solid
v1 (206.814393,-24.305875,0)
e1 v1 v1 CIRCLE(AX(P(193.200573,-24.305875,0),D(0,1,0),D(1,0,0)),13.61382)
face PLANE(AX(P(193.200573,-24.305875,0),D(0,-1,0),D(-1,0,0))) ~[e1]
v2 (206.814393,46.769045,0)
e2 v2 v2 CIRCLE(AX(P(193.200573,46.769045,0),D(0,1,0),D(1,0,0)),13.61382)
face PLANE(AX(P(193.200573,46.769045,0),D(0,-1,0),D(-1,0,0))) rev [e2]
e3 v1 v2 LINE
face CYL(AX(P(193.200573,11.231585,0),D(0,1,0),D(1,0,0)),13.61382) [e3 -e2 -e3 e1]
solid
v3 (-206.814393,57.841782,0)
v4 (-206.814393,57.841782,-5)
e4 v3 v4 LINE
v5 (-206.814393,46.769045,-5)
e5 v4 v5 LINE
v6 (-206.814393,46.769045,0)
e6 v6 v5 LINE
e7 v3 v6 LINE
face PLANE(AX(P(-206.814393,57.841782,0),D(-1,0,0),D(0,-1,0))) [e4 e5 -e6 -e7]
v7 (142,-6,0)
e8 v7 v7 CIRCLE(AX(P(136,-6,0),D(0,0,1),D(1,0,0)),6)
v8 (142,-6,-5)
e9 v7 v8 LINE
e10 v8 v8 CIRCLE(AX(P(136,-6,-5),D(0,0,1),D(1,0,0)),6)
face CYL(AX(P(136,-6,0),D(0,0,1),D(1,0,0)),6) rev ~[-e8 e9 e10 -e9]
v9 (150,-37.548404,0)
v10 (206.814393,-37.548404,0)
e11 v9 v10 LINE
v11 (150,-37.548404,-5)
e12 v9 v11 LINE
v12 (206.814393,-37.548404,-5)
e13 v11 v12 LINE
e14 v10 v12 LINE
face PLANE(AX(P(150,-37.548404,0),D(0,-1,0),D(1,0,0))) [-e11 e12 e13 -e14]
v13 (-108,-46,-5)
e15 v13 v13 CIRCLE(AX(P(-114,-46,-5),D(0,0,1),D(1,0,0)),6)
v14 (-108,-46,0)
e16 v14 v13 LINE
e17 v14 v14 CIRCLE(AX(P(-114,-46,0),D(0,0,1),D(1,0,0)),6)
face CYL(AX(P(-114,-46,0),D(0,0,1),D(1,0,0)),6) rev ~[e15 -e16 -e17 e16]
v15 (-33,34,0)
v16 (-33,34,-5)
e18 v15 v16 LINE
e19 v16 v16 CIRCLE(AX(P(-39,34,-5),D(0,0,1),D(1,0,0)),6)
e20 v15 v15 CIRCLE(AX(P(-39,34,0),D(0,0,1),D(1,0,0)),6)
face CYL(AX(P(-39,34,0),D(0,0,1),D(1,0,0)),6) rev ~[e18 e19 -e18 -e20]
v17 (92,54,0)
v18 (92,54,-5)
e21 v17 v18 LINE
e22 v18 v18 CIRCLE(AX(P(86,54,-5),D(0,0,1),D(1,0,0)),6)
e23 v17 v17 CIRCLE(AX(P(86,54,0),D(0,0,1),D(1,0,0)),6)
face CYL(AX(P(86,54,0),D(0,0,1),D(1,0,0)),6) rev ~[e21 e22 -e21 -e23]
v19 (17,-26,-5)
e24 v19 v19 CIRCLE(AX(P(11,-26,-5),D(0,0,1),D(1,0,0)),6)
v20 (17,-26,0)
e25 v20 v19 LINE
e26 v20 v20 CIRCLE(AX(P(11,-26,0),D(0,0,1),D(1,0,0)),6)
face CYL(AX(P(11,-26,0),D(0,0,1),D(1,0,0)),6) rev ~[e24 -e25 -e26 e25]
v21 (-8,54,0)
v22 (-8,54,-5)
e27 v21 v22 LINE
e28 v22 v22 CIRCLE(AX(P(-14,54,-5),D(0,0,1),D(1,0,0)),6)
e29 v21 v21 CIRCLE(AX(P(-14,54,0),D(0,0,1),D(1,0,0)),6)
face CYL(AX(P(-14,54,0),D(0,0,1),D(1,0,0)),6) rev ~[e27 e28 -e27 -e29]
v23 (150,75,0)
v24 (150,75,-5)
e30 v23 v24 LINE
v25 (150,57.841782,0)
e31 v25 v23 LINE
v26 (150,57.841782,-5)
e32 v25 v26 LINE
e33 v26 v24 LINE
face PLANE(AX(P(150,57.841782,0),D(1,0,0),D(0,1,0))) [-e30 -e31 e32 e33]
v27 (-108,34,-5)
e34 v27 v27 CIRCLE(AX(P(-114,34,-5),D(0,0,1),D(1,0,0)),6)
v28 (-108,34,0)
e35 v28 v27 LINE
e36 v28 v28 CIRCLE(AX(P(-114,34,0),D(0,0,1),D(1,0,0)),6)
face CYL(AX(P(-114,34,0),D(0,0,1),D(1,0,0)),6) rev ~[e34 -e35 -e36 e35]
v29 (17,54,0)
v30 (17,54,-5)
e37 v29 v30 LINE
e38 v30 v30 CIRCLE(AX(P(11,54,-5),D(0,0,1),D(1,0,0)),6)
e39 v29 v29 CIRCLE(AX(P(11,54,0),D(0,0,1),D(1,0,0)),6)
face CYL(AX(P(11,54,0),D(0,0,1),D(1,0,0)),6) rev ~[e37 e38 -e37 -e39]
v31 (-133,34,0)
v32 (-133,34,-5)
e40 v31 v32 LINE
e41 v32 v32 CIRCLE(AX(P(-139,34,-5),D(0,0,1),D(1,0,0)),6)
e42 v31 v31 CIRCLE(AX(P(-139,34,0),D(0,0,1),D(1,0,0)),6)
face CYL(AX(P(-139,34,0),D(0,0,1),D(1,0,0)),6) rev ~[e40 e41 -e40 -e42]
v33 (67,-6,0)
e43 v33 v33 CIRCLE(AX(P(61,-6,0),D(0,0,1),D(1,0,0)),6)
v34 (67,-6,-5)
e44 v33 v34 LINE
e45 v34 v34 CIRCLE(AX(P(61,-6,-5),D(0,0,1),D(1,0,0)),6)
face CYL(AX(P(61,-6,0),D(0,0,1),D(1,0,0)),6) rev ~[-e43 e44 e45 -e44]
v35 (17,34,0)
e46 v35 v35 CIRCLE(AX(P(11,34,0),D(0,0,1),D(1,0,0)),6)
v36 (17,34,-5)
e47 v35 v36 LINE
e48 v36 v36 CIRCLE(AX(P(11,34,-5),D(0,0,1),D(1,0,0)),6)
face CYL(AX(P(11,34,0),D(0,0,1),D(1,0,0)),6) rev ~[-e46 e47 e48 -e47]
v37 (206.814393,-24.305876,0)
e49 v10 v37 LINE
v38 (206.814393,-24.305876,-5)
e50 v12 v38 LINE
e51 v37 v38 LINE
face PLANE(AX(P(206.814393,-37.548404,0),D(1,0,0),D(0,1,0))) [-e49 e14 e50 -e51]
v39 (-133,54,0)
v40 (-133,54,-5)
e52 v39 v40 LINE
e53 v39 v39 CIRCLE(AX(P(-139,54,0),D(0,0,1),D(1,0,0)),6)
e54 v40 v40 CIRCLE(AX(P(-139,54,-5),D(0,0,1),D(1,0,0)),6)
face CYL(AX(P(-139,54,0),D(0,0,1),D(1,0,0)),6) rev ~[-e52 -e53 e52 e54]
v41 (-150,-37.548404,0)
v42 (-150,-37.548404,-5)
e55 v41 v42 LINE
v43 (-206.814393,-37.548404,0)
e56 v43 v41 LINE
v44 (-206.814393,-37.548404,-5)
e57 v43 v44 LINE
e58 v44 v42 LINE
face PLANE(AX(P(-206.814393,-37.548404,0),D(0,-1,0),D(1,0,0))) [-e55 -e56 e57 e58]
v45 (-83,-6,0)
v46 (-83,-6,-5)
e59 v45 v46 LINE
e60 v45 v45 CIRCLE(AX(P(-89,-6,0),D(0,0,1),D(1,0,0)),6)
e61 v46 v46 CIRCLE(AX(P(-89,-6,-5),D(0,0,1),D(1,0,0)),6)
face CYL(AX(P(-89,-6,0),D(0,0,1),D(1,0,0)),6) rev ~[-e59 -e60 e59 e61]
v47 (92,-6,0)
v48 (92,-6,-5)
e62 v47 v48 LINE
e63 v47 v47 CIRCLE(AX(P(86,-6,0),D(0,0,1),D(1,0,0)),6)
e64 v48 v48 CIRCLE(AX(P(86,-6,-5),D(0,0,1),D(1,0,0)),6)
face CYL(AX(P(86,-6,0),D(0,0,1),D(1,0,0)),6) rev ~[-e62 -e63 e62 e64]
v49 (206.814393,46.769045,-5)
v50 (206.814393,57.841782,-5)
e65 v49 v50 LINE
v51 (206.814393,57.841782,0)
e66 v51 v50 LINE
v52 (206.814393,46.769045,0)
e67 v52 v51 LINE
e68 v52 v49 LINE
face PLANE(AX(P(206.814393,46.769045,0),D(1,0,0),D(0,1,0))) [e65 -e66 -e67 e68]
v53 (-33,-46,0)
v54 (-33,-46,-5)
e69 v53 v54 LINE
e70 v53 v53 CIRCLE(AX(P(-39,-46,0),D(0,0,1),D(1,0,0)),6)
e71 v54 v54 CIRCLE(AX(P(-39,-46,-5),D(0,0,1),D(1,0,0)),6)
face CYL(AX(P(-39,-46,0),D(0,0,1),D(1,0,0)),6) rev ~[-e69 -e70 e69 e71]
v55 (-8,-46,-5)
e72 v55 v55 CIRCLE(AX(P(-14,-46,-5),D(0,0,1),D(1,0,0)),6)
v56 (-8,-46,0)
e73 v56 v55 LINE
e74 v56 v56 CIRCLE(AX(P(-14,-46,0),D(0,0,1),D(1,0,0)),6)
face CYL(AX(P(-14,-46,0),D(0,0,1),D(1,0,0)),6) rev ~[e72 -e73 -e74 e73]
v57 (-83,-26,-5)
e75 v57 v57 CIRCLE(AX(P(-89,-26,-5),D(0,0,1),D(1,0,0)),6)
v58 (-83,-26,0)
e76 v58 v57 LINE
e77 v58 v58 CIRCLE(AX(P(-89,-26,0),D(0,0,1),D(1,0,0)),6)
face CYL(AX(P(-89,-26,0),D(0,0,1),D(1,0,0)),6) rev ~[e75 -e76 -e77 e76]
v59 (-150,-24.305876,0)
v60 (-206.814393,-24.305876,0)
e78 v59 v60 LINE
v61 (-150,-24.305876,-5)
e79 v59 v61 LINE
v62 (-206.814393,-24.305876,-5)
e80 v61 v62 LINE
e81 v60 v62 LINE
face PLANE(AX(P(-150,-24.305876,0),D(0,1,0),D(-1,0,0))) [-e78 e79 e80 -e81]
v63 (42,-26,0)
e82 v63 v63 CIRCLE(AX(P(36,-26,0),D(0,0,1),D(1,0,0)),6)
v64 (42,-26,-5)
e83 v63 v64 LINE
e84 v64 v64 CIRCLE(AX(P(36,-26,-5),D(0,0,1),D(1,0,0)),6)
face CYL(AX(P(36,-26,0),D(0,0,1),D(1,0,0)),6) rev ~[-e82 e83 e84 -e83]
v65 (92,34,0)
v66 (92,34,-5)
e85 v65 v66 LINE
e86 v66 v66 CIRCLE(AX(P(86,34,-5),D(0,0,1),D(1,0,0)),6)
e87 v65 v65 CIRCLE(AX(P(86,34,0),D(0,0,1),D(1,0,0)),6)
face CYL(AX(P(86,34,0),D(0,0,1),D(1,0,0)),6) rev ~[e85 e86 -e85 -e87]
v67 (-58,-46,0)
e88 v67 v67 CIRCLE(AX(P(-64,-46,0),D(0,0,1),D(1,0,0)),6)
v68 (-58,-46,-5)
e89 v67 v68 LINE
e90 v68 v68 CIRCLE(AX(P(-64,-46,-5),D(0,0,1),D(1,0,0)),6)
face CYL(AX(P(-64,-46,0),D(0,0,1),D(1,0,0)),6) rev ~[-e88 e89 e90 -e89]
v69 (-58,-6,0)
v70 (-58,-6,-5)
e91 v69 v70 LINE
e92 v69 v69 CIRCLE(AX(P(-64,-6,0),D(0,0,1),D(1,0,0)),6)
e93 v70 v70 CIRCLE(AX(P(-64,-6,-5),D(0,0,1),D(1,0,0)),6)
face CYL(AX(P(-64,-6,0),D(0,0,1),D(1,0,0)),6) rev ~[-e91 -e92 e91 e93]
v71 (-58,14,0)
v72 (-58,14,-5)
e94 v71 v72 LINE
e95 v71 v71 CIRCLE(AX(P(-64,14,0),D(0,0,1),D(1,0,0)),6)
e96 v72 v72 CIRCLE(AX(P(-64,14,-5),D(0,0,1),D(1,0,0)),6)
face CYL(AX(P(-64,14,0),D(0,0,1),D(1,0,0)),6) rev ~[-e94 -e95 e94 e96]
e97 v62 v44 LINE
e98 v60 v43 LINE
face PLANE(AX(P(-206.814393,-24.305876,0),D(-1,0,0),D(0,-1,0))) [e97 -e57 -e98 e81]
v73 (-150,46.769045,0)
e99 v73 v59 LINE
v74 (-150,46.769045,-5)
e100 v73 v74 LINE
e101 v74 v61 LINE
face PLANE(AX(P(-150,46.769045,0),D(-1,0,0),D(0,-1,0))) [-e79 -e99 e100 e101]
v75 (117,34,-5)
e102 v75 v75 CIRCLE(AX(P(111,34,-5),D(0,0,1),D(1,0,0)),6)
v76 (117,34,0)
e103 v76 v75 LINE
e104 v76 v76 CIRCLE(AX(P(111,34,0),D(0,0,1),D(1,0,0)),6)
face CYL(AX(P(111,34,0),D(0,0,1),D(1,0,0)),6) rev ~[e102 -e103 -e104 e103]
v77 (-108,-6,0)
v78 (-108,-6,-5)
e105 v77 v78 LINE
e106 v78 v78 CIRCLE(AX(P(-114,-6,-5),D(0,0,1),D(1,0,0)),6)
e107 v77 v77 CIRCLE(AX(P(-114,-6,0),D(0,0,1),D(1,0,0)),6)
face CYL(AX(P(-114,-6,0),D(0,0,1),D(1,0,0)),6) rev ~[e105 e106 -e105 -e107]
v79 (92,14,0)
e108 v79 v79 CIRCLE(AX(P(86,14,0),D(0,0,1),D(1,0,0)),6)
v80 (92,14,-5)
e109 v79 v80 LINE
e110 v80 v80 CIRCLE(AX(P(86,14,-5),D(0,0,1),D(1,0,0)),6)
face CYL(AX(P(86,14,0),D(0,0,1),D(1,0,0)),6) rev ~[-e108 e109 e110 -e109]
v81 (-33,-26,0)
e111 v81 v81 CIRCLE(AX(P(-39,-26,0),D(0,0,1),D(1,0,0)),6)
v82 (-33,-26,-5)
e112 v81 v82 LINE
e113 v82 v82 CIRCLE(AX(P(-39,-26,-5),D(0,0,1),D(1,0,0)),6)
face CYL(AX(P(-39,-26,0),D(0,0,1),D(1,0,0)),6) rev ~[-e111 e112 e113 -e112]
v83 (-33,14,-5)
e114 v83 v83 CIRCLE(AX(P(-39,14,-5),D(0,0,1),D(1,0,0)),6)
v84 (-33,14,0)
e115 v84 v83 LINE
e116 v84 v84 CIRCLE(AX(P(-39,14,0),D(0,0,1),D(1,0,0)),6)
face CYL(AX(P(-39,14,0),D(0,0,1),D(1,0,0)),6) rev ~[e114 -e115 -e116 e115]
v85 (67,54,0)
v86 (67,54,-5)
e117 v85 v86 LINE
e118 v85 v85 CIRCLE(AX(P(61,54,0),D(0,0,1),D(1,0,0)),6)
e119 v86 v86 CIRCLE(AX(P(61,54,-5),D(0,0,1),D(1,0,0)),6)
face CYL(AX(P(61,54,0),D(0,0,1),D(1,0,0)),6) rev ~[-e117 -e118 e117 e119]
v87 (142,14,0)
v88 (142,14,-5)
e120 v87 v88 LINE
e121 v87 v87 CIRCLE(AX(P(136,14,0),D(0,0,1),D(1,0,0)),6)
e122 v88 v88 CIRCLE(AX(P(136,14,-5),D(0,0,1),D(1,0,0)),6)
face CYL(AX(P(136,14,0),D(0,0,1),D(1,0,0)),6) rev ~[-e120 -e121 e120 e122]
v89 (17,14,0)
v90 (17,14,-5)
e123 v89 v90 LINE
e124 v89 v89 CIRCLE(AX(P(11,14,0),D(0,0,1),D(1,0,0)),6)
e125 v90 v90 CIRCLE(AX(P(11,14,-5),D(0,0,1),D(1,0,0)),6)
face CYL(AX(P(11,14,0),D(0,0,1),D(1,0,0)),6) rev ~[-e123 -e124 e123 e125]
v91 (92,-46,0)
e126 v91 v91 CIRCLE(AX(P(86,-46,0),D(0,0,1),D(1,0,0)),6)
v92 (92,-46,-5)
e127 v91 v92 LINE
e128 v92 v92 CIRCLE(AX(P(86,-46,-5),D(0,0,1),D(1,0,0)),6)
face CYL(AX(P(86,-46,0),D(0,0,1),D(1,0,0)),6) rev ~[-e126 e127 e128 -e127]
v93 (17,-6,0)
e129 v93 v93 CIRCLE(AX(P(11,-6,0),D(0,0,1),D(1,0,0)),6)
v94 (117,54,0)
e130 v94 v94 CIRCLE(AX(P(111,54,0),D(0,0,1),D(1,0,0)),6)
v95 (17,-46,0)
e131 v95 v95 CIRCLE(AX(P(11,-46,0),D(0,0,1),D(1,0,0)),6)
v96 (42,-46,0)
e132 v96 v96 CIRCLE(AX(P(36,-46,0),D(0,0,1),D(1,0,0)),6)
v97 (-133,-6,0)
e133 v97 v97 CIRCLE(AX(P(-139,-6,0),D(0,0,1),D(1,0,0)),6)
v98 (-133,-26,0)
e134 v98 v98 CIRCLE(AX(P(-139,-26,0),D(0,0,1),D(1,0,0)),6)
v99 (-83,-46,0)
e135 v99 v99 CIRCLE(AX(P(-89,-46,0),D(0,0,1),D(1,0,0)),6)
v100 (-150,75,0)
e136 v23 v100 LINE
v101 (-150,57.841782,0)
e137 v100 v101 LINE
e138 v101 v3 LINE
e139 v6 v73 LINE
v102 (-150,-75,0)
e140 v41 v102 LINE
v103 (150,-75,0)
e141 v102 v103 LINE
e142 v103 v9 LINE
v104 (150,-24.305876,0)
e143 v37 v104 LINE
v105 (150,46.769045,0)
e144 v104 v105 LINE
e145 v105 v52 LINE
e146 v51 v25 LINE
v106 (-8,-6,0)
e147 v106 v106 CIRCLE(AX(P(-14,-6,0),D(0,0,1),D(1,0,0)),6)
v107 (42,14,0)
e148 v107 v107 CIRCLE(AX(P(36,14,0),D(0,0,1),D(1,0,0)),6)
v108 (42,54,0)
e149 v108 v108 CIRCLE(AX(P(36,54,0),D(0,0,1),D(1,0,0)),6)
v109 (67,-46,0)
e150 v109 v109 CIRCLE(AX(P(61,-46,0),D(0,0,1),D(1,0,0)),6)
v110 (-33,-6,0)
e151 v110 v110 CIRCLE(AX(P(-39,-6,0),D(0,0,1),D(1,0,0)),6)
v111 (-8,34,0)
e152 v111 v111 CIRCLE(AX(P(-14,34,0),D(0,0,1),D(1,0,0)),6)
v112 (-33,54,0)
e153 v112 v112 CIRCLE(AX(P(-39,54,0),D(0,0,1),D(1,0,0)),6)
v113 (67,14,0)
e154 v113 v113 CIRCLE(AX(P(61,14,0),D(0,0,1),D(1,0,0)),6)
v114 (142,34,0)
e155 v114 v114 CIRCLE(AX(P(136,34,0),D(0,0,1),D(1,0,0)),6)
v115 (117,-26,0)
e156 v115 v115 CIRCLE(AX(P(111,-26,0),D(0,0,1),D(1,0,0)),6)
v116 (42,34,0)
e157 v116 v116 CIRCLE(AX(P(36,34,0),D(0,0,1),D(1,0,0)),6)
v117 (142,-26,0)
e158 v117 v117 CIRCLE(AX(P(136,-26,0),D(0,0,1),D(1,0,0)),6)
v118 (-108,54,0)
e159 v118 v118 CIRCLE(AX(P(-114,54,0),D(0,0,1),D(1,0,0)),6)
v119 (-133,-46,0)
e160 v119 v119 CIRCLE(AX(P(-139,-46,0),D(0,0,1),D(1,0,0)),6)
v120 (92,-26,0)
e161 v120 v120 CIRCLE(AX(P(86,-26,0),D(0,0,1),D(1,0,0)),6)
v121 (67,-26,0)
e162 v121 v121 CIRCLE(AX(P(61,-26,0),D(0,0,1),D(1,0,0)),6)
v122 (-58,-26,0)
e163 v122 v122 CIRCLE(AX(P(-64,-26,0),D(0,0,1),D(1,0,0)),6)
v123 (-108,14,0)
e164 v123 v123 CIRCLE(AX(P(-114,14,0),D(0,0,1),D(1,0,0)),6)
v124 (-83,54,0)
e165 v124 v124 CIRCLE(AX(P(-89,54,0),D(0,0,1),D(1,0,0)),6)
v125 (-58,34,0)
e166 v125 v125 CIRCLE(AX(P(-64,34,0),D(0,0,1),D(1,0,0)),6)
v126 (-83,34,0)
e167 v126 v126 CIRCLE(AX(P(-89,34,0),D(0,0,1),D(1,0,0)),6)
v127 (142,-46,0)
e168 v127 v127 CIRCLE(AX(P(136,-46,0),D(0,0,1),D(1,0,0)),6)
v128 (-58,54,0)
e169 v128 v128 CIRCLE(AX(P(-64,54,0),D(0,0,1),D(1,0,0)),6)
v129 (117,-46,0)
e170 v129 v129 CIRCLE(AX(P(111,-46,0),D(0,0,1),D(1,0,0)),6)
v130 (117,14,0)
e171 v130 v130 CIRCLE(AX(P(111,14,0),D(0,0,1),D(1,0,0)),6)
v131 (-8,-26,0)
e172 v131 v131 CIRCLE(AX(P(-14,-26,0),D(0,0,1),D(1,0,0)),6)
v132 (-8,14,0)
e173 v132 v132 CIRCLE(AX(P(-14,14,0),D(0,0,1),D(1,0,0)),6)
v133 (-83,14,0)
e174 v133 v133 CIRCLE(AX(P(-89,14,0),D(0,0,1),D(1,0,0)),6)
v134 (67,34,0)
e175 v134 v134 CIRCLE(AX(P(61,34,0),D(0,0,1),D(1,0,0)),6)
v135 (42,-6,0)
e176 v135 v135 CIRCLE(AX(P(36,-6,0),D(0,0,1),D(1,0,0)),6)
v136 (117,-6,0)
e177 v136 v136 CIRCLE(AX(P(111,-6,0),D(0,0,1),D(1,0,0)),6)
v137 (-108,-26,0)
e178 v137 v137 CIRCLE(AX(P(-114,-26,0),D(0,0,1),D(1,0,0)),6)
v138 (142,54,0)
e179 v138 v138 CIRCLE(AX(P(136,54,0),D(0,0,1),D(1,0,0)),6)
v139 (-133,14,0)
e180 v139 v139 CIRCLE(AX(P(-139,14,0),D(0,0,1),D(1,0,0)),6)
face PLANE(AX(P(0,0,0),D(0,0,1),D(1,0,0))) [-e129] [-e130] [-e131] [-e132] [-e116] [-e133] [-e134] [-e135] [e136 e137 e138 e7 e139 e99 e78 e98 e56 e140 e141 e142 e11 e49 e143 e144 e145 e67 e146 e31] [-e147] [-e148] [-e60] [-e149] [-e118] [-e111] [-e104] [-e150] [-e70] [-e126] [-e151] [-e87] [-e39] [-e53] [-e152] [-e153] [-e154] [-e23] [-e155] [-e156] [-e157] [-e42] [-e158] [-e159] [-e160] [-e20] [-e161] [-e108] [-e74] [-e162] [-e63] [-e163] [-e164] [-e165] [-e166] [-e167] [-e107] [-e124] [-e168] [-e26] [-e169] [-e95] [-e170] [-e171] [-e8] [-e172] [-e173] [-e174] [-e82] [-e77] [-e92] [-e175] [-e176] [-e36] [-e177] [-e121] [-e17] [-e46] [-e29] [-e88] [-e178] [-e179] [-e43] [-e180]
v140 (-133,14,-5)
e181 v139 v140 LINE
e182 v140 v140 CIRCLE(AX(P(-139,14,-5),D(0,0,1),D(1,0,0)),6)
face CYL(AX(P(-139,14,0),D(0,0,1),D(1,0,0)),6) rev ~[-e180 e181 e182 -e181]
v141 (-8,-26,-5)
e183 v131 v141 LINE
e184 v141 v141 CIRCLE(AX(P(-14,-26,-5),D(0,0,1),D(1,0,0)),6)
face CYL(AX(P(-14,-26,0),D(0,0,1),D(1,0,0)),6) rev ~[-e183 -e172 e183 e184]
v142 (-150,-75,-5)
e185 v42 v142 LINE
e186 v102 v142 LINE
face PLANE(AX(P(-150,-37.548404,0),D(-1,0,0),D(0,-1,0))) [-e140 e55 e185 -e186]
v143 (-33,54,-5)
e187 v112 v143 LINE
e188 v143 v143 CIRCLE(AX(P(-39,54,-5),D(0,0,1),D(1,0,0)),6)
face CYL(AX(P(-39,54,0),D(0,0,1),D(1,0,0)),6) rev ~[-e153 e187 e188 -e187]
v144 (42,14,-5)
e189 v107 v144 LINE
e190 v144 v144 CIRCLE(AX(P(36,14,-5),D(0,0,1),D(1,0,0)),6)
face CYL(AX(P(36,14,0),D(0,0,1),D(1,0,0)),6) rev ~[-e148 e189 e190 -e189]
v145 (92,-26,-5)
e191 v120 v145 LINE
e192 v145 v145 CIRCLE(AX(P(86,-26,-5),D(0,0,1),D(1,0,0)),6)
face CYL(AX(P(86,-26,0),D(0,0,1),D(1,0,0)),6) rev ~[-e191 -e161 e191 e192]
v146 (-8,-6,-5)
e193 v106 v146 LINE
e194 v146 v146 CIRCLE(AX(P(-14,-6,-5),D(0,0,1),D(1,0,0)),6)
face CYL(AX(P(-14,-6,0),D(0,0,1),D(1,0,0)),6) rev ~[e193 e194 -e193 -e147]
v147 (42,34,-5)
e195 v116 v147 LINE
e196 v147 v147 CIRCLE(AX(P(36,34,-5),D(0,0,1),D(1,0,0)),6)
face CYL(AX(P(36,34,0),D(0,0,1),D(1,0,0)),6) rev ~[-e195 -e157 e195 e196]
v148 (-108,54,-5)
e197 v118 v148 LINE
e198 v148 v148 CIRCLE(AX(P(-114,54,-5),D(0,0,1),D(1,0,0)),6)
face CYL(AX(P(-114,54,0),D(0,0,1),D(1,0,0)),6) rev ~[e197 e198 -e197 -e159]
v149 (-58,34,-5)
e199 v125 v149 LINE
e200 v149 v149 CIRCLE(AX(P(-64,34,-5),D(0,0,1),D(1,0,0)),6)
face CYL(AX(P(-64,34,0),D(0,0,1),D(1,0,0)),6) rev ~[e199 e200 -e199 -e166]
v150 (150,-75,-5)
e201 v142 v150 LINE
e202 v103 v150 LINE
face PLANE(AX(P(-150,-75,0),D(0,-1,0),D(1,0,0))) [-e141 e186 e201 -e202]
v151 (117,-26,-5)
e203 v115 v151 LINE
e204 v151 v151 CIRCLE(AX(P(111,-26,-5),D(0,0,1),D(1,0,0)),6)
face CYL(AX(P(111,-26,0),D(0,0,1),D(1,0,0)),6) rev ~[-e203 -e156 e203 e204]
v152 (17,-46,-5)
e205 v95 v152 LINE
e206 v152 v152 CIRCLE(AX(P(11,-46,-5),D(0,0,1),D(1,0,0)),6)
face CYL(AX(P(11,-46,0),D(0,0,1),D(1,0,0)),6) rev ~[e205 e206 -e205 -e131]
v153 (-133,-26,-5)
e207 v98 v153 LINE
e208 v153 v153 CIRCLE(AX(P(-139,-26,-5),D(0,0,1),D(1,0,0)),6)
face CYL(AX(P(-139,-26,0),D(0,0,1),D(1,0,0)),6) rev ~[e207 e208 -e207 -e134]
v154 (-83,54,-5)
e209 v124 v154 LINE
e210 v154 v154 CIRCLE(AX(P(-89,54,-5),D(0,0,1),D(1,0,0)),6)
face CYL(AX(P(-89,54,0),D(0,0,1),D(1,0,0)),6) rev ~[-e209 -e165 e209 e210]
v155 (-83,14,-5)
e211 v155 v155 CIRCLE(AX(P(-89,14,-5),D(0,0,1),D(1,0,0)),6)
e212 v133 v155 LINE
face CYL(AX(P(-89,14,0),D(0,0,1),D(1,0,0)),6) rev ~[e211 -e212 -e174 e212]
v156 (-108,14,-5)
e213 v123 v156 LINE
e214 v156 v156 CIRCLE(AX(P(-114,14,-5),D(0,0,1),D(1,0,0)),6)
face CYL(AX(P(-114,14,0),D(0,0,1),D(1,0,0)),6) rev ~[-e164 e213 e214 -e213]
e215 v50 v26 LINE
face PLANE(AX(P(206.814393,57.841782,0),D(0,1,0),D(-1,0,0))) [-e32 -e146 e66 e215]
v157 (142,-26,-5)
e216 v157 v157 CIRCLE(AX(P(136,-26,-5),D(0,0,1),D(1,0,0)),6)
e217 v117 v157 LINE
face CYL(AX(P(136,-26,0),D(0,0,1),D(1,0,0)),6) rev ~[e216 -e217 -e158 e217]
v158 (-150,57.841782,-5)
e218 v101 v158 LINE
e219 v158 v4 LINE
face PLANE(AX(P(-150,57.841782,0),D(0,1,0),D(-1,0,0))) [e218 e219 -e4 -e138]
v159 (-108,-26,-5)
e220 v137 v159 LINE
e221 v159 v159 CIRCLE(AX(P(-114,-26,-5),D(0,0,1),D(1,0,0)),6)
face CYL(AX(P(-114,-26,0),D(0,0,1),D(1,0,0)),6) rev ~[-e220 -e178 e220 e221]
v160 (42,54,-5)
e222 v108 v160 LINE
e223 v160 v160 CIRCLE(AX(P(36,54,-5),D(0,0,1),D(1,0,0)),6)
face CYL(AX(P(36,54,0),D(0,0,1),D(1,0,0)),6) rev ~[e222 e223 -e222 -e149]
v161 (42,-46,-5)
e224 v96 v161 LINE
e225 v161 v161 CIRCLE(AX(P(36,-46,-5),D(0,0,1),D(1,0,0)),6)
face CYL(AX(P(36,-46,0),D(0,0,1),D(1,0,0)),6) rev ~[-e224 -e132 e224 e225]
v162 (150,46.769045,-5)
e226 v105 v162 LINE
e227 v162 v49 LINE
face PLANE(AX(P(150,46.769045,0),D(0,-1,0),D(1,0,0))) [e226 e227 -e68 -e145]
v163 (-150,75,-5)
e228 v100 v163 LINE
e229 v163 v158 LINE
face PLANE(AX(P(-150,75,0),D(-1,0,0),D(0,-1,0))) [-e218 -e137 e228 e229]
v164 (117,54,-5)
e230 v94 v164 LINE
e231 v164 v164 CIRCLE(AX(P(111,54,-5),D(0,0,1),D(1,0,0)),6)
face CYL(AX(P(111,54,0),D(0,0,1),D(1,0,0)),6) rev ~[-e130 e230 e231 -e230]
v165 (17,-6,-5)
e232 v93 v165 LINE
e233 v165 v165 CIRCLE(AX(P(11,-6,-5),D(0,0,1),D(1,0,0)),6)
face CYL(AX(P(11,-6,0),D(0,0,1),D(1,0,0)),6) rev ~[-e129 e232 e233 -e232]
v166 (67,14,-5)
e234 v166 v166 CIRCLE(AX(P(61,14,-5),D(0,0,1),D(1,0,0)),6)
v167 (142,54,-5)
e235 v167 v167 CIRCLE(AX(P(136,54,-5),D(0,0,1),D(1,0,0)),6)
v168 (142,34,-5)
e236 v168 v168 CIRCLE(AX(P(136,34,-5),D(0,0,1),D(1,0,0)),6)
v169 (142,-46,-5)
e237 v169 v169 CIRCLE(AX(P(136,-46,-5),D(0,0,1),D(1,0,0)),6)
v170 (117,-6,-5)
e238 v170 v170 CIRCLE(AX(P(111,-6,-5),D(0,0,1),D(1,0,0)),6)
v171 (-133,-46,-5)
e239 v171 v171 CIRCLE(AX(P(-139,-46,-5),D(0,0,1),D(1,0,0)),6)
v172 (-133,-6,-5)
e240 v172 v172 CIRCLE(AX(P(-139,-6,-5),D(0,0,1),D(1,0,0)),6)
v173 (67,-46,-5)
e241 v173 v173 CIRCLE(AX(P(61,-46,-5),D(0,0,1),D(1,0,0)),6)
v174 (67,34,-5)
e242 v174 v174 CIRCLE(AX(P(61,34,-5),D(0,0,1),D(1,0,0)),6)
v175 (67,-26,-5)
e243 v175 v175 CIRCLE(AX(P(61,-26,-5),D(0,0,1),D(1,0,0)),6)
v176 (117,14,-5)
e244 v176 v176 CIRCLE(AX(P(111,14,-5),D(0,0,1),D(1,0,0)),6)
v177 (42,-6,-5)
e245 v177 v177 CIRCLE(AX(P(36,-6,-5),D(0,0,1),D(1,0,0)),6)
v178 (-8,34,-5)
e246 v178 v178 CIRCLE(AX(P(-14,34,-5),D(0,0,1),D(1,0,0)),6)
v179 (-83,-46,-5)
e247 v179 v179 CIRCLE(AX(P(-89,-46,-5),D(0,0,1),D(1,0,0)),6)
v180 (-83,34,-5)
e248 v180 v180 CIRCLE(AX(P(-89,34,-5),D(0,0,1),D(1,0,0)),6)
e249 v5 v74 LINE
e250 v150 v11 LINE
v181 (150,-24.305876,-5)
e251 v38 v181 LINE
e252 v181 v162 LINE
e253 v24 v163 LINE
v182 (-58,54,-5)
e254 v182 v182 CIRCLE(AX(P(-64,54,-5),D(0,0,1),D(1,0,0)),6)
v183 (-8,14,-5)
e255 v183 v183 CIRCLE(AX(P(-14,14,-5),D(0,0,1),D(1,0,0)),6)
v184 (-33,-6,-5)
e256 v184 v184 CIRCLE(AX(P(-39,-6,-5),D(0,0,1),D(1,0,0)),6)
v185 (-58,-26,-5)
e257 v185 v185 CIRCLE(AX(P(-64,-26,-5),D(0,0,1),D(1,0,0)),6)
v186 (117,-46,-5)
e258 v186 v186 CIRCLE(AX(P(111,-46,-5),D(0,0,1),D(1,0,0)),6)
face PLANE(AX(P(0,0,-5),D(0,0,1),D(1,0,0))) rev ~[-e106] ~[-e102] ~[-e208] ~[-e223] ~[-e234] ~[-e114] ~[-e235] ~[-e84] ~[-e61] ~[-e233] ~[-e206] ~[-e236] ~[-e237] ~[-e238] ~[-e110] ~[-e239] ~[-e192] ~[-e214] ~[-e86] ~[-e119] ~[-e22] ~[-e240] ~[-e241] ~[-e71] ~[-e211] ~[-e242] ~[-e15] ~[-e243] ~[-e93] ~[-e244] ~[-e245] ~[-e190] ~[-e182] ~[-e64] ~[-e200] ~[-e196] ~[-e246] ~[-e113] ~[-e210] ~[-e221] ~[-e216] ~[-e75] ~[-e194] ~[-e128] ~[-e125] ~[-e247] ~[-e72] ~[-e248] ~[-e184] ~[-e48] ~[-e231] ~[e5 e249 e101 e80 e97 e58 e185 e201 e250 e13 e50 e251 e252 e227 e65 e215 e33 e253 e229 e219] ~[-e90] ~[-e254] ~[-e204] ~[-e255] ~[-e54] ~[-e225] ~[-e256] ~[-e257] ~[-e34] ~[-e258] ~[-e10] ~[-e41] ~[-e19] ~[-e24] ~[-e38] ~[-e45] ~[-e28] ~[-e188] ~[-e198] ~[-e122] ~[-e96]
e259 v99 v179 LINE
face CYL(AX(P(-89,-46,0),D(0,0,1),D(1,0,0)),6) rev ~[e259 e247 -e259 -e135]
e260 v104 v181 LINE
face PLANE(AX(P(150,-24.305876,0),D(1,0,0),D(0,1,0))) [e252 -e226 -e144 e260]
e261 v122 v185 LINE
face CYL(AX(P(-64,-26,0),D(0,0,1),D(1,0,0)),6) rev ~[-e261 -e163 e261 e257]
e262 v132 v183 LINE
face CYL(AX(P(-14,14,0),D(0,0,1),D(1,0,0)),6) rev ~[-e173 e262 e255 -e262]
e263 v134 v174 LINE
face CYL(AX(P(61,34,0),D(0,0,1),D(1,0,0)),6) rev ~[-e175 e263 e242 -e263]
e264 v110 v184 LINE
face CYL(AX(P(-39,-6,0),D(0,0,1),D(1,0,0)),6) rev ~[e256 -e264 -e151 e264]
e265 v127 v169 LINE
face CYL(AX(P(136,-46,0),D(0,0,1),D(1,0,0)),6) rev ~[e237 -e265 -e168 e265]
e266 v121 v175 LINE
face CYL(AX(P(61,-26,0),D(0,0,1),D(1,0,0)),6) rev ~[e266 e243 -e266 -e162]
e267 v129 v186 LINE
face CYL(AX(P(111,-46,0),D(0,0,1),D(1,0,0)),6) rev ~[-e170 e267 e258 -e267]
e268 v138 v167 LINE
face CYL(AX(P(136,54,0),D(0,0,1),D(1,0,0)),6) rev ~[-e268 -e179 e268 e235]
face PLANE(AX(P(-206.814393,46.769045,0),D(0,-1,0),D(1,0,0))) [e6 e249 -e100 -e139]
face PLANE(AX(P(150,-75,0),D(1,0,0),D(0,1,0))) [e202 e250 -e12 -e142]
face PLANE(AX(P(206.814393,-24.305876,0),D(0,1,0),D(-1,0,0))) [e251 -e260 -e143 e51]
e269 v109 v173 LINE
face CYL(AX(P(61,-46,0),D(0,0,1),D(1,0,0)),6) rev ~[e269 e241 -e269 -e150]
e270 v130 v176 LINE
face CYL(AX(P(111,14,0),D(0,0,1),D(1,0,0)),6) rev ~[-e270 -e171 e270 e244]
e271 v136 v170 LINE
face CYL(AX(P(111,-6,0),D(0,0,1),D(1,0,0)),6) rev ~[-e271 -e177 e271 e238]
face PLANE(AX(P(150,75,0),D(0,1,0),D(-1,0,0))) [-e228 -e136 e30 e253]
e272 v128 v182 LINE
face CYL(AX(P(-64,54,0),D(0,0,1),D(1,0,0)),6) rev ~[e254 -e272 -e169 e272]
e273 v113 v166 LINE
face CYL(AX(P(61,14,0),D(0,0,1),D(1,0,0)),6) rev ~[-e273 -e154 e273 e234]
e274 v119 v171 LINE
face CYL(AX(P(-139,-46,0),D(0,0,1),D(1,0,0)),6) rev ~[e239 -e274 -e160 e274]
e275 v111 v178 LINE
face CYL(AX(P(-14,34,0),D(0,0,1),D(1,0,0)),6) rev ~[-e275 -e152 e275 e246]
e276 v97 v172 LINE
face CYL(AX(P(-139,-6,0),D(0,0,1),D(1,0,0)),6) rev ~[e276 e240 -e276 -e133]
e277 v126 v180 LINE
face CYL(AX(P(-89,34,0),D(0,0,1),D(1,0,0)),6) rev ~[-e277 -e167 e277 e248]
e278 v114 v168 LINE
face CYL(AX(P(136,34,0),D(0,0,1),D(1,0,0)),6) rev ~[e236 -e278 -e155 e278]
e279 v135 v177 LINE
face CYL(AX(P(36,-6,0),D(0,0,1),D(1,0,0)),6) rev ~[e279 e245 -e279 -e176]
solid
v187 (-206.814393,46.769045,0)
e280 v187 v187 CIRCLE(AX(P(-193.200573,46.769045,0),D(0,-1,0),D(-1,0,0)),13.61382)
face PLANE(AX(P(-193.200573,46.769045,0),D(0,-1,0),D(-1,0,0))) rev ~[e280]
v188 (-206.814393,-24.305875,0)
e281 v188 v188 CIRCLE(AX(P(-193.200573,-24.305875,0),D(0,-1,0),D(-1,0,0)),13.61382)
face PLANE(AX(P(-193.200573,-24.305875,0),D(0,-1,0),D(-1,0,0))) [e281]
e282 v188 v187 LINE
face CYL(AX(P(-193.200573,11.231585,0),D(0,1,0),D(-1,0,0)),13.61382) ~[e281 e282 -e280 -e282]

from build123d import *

# Parameters (mm, degrees)
F0_R     = 6
F1_DEPTH = 5
F0_W     = 13.61382
F0_H     = 71.074921


with BuildPart() as f1:
    # F0 (on Top) → F1 (new body)
    with BuildSketch(Plane.XY):
        Polygon((150, 75), (-150, 75), (-150, 57.841782), (-150, 46.769045), (-150, -24.305876), (-150, -37.548404), (-150, -75), (150, -75), (150, -37.548404), (150, -24.305876), (150, 46.769045), (150, 57.841782), align=None)
        with Locations((-139, -46)):
            Circle(F0_R, mode=Mode.SUBTRACT)
        with Locations((-114, -46)):
            Circle(F0_R, mode=Mode.SUBTRACT)
        with Locations((-89, -46)):
            Circle(F0_R, mode=Mode.SUBTRACT)
        with Locations((-64, -46)):
            Circle(F0_R, mode=Mode.SUBTRACT)
        with Locations((-39, -46)):
            Circle(F0_R, mode=Mode.SUBTRACT)
        with Locations((-14, -46)):
            Circle(F0_R, mode=Mode.SUBTRACT)
        with Locations((-139, -26)):
            Circle(F0_R, mode=Mode.SUBTRACT)
        with Locations((-114, -26)):
            Circle(F0_R, mode=Mode.SUBTRACT)
        with Locations((-139, -6)):
            Circle(F0_R, mode=Mode.SUBTRACT)
        with Locations((-114, -6)):
            Circle(F0_R, mode=Mode.SUBTRACT)
        with Locations((-89, -26)):
            Circle(F0_R, mode=Mode.SUBTRACT)
        with Locations((-64, -26)):
            Circle(F0_R, mode=Mode.SUBTRACT)
        with Locations((-39, -26)):
            Circle(F0_R, mode=Mode.SUBTRACT)
        with Locations((-14, -26)):
            Circle(F0_R, mode=Mode.SUBTRACT)
        with Locations((-89, -6)):
            Circle(F0_R, mode=Mode.SUBTRACT)
        with Locations((-64, -6)):
            Circle(F0_R, mode=Mode.SUBTRACT)
        with Locations((-39, -6)):
            Circle(F0_R, mode=Mode.SUBTRACT)
        with Locations((-14, -6)):
            Circle(F0_R, mode=Mode.SUBTRACT)
        with Locations((11, -46)):
            Circle(F0_R, mode=Mode.SUBTRACT)
        with Locations((36, -46)):
            Circle(F0_R, mode=Mode.SUBTRACT)
        with Locations((61, -46)):
            Circle(F0_R, mode=Mode.SUBTRACT)
        with Locations((86, -46)):
            Circle(F0_R, mode=Mode.SUBTRACT)
        with Locations((111, -46)):
            Circle(F0_R, mode=Mode.SUBTRACT)
        with Locations((136, -46)):
            Circle(F0_R, mode=Mode.SUBTRACT)
        with Locations((11, -26)):
            Circle(F0_R, mode=Mode.SUBTRACT)
        with Locations((36, -26)):
            Circle(F0_R, mode=Mode.SUBTRACT)
        with Locations((61, -26)):
            Circle(F0_R, mode=Mode.SUBTRACT)
        with Locations((86, -26)):
            Circle(F0_R, mode=Mode.SUBTRACT)
        with Locations((11, -6)):
            Circle(F0_R, mode=Mode.SUBTRACT)
        with Locations((36, -6)):
            Circle(F0_R, mode=Mode.SUBTRACT)
        with Locations((61, -6)):
            Circle(F0_R, mode=Mode.SUBTRACT)
        with Locations((86, -6)):
            Circle(F0_R, mode=Mode.SUBTRACT)
        with Locations((111, -26)):
            Circle(F0_R, mode=Mode.SUBTRACT)
        with Locations((136, -26)):
            Circle(F0_R, mode=Mode.SUBTRACT)
        with Locations((111, -6)):
            Circle(F0_R, mode=Mode.SUBTRACT)
        with Locations((136, -6)):
            Circle(F0_R, mode=Mode.SUBTRACT)
        with Locations((-139, 14)):
            Circle(F0_R, mode=Mode.SUBTRACT)
        with Locations((-114, 14)):
            Circle(F0_R, mode=Mode.SUBTRACT)
        with Locations((-139, 34)):
            Circle(F0_R, mode=Mode.SUBTRACT)
        with Locations((-114, 34)):
            Circle(F0_R, mode=Mode.SUBTRACT)
        with Locations((-89, 14)):
            Circle(F0_R, mode=Mode.SUBTRACT)
        with Locations((-64, 14)):
            Circle(F0_R, mode=Mode.SUBTRACT)
        with Locations((-39, 14)):
            Circle(F0_R, mode=Mode.SUBTRACT)
        with Locations((-14, 14)):
            Circle(F0_R, mode=Mode.SUBTRACT)
        with Locations((-89, 34)):
            Circle(F0_R, mode=Mode.SUBTRACT)
        with Locations((-64, 34)):
            Circle(F0_R, mode=Mode.SUBTRACT)
        with Locations((-39, 34)):
            Circle(F0_R, mode=Mode.SUBTRACT)
        with Locations((-14, 34)):
            Circle(F0_R, mode=Mode.SUBTRACT)
        with Locations((-139, 54)):
            Circle(F0_R, mode=Mode.SUBTRACT)
        with Locations((-114, 54)):
            Circle(F0_R, mode=Mode.SUBTRACT)
        with Locations((-89, 54)):
            Circle(F0_R, mode=Mode.SUBTRACT)
        with Locations((-64, 54)):
            Circle(F0_R, mode=Mode.SUBTRACT)
        with Locations((-39, 54)):
            Circle(F0_R, mode=Mode.SUBTRACT)
        with Locations((-14, 54)):
            Circle(F0_R, mode=Mode.SUBTRACT)
        with Locations((11, 14)):
            Circle(F0_R, mode=Mode.SUBTRACT)
        with Locations((36, 14)):
            Circle(F0_R, mode=Mode.SUBTRACT)
        with Locations((61, 14)):
            Circle(F0_R, mode=Mode.SUBTRACT)
        with Locations((86, 14)):
            Circle(F0_R, mode=Mode.SUBTRACT)
        with Locations((11, 34)):
            Circle(F0_R, mode=Mode.SUBTRACT)
        with Locations((36, 34)):
            Circle(F0_R, mode=Mode.SUBTRACT)
        with Locations((61, 34)):
            Circle(F0_R, mode=Mode.SUBTRACT)
        with Locations((86, 34)):
            Circle(F0_R, mode=Mode.SUBTRACT)
        with Locations((111, 14)):
            Circle(F0_R, mode=Mode.SUBTRACT)
        with Locations((136, 14)):
            Circle(F0_R, mode=Mode.SUBTRACT)
        with Locations((111, 34)):
            Circle(F0_R, mode=Mode.SUBTRACT)
        with Locations((136, 34)):
            Circle(F0_R, mode=Mode.SUBTRACT)
        with Locations((11, 54)):
            Circle(F0_R, mode=Mode.SUBTRACT)
        with Locations((36, 54)):
            Circle(F0_R, mode=Mode.SUBTRACT)
        with Locations((61, 54)):
            Circle(F0_R, mode=Mode.SUBTRACT)
        with Locations((86, 54)):
            Circle(F0_R, mode=Mode.SUBTRACT)
        with Locations((111, 54)):
            Circle(F0_R, mode=Mode.SUBTRACT)
        with Locations((136, 54)):
            Circle(F0_R, mode=Mode.SUBTRACT)
        Polygon((206.814393, 57.841782), (150, 57.841782), (150, 46.769045), (193.200573, 46.769045), (206.814393, 46.769045), align=None)
        Polygon((193.200573, -24.305876), (150, -24.305876), (150, -37.548404), (206.814393, -37.548404), (206.814393, -24.305876), align=None)
        Polygon((-150, 46.769045), (-150, 57.841782), (-206.814393, 57.841782), (-206.814393, 46.769045), (-193.200573, 46.769045), align=None)
        Polygon((-150, -37.548404), (-150, -24.305876), (-193.200573, -24.305876), (-206.814393, -24.305876), (-206.814393, -37.548404), align=None)
    extrude(amount=-F1_DEPTH)


with BuildPart() as f2:
    # F0 (on Top) → F2 (revolve)
    with BuildSketch(Plane.XY):
        with Locations((-200.007483, 11.231585)):
            Rectangle(F0_W, F0_H)
    revolve(axis=Axis((-193.200573, 11.231584, 0), (0, -1, 0)))


with BuildPart() as f3_1:
    # F3: instance of F2
    add(f2.part.mirror(Plane.YZ))


solid = Compound([f1.part, f2.part, f3_1.part])
